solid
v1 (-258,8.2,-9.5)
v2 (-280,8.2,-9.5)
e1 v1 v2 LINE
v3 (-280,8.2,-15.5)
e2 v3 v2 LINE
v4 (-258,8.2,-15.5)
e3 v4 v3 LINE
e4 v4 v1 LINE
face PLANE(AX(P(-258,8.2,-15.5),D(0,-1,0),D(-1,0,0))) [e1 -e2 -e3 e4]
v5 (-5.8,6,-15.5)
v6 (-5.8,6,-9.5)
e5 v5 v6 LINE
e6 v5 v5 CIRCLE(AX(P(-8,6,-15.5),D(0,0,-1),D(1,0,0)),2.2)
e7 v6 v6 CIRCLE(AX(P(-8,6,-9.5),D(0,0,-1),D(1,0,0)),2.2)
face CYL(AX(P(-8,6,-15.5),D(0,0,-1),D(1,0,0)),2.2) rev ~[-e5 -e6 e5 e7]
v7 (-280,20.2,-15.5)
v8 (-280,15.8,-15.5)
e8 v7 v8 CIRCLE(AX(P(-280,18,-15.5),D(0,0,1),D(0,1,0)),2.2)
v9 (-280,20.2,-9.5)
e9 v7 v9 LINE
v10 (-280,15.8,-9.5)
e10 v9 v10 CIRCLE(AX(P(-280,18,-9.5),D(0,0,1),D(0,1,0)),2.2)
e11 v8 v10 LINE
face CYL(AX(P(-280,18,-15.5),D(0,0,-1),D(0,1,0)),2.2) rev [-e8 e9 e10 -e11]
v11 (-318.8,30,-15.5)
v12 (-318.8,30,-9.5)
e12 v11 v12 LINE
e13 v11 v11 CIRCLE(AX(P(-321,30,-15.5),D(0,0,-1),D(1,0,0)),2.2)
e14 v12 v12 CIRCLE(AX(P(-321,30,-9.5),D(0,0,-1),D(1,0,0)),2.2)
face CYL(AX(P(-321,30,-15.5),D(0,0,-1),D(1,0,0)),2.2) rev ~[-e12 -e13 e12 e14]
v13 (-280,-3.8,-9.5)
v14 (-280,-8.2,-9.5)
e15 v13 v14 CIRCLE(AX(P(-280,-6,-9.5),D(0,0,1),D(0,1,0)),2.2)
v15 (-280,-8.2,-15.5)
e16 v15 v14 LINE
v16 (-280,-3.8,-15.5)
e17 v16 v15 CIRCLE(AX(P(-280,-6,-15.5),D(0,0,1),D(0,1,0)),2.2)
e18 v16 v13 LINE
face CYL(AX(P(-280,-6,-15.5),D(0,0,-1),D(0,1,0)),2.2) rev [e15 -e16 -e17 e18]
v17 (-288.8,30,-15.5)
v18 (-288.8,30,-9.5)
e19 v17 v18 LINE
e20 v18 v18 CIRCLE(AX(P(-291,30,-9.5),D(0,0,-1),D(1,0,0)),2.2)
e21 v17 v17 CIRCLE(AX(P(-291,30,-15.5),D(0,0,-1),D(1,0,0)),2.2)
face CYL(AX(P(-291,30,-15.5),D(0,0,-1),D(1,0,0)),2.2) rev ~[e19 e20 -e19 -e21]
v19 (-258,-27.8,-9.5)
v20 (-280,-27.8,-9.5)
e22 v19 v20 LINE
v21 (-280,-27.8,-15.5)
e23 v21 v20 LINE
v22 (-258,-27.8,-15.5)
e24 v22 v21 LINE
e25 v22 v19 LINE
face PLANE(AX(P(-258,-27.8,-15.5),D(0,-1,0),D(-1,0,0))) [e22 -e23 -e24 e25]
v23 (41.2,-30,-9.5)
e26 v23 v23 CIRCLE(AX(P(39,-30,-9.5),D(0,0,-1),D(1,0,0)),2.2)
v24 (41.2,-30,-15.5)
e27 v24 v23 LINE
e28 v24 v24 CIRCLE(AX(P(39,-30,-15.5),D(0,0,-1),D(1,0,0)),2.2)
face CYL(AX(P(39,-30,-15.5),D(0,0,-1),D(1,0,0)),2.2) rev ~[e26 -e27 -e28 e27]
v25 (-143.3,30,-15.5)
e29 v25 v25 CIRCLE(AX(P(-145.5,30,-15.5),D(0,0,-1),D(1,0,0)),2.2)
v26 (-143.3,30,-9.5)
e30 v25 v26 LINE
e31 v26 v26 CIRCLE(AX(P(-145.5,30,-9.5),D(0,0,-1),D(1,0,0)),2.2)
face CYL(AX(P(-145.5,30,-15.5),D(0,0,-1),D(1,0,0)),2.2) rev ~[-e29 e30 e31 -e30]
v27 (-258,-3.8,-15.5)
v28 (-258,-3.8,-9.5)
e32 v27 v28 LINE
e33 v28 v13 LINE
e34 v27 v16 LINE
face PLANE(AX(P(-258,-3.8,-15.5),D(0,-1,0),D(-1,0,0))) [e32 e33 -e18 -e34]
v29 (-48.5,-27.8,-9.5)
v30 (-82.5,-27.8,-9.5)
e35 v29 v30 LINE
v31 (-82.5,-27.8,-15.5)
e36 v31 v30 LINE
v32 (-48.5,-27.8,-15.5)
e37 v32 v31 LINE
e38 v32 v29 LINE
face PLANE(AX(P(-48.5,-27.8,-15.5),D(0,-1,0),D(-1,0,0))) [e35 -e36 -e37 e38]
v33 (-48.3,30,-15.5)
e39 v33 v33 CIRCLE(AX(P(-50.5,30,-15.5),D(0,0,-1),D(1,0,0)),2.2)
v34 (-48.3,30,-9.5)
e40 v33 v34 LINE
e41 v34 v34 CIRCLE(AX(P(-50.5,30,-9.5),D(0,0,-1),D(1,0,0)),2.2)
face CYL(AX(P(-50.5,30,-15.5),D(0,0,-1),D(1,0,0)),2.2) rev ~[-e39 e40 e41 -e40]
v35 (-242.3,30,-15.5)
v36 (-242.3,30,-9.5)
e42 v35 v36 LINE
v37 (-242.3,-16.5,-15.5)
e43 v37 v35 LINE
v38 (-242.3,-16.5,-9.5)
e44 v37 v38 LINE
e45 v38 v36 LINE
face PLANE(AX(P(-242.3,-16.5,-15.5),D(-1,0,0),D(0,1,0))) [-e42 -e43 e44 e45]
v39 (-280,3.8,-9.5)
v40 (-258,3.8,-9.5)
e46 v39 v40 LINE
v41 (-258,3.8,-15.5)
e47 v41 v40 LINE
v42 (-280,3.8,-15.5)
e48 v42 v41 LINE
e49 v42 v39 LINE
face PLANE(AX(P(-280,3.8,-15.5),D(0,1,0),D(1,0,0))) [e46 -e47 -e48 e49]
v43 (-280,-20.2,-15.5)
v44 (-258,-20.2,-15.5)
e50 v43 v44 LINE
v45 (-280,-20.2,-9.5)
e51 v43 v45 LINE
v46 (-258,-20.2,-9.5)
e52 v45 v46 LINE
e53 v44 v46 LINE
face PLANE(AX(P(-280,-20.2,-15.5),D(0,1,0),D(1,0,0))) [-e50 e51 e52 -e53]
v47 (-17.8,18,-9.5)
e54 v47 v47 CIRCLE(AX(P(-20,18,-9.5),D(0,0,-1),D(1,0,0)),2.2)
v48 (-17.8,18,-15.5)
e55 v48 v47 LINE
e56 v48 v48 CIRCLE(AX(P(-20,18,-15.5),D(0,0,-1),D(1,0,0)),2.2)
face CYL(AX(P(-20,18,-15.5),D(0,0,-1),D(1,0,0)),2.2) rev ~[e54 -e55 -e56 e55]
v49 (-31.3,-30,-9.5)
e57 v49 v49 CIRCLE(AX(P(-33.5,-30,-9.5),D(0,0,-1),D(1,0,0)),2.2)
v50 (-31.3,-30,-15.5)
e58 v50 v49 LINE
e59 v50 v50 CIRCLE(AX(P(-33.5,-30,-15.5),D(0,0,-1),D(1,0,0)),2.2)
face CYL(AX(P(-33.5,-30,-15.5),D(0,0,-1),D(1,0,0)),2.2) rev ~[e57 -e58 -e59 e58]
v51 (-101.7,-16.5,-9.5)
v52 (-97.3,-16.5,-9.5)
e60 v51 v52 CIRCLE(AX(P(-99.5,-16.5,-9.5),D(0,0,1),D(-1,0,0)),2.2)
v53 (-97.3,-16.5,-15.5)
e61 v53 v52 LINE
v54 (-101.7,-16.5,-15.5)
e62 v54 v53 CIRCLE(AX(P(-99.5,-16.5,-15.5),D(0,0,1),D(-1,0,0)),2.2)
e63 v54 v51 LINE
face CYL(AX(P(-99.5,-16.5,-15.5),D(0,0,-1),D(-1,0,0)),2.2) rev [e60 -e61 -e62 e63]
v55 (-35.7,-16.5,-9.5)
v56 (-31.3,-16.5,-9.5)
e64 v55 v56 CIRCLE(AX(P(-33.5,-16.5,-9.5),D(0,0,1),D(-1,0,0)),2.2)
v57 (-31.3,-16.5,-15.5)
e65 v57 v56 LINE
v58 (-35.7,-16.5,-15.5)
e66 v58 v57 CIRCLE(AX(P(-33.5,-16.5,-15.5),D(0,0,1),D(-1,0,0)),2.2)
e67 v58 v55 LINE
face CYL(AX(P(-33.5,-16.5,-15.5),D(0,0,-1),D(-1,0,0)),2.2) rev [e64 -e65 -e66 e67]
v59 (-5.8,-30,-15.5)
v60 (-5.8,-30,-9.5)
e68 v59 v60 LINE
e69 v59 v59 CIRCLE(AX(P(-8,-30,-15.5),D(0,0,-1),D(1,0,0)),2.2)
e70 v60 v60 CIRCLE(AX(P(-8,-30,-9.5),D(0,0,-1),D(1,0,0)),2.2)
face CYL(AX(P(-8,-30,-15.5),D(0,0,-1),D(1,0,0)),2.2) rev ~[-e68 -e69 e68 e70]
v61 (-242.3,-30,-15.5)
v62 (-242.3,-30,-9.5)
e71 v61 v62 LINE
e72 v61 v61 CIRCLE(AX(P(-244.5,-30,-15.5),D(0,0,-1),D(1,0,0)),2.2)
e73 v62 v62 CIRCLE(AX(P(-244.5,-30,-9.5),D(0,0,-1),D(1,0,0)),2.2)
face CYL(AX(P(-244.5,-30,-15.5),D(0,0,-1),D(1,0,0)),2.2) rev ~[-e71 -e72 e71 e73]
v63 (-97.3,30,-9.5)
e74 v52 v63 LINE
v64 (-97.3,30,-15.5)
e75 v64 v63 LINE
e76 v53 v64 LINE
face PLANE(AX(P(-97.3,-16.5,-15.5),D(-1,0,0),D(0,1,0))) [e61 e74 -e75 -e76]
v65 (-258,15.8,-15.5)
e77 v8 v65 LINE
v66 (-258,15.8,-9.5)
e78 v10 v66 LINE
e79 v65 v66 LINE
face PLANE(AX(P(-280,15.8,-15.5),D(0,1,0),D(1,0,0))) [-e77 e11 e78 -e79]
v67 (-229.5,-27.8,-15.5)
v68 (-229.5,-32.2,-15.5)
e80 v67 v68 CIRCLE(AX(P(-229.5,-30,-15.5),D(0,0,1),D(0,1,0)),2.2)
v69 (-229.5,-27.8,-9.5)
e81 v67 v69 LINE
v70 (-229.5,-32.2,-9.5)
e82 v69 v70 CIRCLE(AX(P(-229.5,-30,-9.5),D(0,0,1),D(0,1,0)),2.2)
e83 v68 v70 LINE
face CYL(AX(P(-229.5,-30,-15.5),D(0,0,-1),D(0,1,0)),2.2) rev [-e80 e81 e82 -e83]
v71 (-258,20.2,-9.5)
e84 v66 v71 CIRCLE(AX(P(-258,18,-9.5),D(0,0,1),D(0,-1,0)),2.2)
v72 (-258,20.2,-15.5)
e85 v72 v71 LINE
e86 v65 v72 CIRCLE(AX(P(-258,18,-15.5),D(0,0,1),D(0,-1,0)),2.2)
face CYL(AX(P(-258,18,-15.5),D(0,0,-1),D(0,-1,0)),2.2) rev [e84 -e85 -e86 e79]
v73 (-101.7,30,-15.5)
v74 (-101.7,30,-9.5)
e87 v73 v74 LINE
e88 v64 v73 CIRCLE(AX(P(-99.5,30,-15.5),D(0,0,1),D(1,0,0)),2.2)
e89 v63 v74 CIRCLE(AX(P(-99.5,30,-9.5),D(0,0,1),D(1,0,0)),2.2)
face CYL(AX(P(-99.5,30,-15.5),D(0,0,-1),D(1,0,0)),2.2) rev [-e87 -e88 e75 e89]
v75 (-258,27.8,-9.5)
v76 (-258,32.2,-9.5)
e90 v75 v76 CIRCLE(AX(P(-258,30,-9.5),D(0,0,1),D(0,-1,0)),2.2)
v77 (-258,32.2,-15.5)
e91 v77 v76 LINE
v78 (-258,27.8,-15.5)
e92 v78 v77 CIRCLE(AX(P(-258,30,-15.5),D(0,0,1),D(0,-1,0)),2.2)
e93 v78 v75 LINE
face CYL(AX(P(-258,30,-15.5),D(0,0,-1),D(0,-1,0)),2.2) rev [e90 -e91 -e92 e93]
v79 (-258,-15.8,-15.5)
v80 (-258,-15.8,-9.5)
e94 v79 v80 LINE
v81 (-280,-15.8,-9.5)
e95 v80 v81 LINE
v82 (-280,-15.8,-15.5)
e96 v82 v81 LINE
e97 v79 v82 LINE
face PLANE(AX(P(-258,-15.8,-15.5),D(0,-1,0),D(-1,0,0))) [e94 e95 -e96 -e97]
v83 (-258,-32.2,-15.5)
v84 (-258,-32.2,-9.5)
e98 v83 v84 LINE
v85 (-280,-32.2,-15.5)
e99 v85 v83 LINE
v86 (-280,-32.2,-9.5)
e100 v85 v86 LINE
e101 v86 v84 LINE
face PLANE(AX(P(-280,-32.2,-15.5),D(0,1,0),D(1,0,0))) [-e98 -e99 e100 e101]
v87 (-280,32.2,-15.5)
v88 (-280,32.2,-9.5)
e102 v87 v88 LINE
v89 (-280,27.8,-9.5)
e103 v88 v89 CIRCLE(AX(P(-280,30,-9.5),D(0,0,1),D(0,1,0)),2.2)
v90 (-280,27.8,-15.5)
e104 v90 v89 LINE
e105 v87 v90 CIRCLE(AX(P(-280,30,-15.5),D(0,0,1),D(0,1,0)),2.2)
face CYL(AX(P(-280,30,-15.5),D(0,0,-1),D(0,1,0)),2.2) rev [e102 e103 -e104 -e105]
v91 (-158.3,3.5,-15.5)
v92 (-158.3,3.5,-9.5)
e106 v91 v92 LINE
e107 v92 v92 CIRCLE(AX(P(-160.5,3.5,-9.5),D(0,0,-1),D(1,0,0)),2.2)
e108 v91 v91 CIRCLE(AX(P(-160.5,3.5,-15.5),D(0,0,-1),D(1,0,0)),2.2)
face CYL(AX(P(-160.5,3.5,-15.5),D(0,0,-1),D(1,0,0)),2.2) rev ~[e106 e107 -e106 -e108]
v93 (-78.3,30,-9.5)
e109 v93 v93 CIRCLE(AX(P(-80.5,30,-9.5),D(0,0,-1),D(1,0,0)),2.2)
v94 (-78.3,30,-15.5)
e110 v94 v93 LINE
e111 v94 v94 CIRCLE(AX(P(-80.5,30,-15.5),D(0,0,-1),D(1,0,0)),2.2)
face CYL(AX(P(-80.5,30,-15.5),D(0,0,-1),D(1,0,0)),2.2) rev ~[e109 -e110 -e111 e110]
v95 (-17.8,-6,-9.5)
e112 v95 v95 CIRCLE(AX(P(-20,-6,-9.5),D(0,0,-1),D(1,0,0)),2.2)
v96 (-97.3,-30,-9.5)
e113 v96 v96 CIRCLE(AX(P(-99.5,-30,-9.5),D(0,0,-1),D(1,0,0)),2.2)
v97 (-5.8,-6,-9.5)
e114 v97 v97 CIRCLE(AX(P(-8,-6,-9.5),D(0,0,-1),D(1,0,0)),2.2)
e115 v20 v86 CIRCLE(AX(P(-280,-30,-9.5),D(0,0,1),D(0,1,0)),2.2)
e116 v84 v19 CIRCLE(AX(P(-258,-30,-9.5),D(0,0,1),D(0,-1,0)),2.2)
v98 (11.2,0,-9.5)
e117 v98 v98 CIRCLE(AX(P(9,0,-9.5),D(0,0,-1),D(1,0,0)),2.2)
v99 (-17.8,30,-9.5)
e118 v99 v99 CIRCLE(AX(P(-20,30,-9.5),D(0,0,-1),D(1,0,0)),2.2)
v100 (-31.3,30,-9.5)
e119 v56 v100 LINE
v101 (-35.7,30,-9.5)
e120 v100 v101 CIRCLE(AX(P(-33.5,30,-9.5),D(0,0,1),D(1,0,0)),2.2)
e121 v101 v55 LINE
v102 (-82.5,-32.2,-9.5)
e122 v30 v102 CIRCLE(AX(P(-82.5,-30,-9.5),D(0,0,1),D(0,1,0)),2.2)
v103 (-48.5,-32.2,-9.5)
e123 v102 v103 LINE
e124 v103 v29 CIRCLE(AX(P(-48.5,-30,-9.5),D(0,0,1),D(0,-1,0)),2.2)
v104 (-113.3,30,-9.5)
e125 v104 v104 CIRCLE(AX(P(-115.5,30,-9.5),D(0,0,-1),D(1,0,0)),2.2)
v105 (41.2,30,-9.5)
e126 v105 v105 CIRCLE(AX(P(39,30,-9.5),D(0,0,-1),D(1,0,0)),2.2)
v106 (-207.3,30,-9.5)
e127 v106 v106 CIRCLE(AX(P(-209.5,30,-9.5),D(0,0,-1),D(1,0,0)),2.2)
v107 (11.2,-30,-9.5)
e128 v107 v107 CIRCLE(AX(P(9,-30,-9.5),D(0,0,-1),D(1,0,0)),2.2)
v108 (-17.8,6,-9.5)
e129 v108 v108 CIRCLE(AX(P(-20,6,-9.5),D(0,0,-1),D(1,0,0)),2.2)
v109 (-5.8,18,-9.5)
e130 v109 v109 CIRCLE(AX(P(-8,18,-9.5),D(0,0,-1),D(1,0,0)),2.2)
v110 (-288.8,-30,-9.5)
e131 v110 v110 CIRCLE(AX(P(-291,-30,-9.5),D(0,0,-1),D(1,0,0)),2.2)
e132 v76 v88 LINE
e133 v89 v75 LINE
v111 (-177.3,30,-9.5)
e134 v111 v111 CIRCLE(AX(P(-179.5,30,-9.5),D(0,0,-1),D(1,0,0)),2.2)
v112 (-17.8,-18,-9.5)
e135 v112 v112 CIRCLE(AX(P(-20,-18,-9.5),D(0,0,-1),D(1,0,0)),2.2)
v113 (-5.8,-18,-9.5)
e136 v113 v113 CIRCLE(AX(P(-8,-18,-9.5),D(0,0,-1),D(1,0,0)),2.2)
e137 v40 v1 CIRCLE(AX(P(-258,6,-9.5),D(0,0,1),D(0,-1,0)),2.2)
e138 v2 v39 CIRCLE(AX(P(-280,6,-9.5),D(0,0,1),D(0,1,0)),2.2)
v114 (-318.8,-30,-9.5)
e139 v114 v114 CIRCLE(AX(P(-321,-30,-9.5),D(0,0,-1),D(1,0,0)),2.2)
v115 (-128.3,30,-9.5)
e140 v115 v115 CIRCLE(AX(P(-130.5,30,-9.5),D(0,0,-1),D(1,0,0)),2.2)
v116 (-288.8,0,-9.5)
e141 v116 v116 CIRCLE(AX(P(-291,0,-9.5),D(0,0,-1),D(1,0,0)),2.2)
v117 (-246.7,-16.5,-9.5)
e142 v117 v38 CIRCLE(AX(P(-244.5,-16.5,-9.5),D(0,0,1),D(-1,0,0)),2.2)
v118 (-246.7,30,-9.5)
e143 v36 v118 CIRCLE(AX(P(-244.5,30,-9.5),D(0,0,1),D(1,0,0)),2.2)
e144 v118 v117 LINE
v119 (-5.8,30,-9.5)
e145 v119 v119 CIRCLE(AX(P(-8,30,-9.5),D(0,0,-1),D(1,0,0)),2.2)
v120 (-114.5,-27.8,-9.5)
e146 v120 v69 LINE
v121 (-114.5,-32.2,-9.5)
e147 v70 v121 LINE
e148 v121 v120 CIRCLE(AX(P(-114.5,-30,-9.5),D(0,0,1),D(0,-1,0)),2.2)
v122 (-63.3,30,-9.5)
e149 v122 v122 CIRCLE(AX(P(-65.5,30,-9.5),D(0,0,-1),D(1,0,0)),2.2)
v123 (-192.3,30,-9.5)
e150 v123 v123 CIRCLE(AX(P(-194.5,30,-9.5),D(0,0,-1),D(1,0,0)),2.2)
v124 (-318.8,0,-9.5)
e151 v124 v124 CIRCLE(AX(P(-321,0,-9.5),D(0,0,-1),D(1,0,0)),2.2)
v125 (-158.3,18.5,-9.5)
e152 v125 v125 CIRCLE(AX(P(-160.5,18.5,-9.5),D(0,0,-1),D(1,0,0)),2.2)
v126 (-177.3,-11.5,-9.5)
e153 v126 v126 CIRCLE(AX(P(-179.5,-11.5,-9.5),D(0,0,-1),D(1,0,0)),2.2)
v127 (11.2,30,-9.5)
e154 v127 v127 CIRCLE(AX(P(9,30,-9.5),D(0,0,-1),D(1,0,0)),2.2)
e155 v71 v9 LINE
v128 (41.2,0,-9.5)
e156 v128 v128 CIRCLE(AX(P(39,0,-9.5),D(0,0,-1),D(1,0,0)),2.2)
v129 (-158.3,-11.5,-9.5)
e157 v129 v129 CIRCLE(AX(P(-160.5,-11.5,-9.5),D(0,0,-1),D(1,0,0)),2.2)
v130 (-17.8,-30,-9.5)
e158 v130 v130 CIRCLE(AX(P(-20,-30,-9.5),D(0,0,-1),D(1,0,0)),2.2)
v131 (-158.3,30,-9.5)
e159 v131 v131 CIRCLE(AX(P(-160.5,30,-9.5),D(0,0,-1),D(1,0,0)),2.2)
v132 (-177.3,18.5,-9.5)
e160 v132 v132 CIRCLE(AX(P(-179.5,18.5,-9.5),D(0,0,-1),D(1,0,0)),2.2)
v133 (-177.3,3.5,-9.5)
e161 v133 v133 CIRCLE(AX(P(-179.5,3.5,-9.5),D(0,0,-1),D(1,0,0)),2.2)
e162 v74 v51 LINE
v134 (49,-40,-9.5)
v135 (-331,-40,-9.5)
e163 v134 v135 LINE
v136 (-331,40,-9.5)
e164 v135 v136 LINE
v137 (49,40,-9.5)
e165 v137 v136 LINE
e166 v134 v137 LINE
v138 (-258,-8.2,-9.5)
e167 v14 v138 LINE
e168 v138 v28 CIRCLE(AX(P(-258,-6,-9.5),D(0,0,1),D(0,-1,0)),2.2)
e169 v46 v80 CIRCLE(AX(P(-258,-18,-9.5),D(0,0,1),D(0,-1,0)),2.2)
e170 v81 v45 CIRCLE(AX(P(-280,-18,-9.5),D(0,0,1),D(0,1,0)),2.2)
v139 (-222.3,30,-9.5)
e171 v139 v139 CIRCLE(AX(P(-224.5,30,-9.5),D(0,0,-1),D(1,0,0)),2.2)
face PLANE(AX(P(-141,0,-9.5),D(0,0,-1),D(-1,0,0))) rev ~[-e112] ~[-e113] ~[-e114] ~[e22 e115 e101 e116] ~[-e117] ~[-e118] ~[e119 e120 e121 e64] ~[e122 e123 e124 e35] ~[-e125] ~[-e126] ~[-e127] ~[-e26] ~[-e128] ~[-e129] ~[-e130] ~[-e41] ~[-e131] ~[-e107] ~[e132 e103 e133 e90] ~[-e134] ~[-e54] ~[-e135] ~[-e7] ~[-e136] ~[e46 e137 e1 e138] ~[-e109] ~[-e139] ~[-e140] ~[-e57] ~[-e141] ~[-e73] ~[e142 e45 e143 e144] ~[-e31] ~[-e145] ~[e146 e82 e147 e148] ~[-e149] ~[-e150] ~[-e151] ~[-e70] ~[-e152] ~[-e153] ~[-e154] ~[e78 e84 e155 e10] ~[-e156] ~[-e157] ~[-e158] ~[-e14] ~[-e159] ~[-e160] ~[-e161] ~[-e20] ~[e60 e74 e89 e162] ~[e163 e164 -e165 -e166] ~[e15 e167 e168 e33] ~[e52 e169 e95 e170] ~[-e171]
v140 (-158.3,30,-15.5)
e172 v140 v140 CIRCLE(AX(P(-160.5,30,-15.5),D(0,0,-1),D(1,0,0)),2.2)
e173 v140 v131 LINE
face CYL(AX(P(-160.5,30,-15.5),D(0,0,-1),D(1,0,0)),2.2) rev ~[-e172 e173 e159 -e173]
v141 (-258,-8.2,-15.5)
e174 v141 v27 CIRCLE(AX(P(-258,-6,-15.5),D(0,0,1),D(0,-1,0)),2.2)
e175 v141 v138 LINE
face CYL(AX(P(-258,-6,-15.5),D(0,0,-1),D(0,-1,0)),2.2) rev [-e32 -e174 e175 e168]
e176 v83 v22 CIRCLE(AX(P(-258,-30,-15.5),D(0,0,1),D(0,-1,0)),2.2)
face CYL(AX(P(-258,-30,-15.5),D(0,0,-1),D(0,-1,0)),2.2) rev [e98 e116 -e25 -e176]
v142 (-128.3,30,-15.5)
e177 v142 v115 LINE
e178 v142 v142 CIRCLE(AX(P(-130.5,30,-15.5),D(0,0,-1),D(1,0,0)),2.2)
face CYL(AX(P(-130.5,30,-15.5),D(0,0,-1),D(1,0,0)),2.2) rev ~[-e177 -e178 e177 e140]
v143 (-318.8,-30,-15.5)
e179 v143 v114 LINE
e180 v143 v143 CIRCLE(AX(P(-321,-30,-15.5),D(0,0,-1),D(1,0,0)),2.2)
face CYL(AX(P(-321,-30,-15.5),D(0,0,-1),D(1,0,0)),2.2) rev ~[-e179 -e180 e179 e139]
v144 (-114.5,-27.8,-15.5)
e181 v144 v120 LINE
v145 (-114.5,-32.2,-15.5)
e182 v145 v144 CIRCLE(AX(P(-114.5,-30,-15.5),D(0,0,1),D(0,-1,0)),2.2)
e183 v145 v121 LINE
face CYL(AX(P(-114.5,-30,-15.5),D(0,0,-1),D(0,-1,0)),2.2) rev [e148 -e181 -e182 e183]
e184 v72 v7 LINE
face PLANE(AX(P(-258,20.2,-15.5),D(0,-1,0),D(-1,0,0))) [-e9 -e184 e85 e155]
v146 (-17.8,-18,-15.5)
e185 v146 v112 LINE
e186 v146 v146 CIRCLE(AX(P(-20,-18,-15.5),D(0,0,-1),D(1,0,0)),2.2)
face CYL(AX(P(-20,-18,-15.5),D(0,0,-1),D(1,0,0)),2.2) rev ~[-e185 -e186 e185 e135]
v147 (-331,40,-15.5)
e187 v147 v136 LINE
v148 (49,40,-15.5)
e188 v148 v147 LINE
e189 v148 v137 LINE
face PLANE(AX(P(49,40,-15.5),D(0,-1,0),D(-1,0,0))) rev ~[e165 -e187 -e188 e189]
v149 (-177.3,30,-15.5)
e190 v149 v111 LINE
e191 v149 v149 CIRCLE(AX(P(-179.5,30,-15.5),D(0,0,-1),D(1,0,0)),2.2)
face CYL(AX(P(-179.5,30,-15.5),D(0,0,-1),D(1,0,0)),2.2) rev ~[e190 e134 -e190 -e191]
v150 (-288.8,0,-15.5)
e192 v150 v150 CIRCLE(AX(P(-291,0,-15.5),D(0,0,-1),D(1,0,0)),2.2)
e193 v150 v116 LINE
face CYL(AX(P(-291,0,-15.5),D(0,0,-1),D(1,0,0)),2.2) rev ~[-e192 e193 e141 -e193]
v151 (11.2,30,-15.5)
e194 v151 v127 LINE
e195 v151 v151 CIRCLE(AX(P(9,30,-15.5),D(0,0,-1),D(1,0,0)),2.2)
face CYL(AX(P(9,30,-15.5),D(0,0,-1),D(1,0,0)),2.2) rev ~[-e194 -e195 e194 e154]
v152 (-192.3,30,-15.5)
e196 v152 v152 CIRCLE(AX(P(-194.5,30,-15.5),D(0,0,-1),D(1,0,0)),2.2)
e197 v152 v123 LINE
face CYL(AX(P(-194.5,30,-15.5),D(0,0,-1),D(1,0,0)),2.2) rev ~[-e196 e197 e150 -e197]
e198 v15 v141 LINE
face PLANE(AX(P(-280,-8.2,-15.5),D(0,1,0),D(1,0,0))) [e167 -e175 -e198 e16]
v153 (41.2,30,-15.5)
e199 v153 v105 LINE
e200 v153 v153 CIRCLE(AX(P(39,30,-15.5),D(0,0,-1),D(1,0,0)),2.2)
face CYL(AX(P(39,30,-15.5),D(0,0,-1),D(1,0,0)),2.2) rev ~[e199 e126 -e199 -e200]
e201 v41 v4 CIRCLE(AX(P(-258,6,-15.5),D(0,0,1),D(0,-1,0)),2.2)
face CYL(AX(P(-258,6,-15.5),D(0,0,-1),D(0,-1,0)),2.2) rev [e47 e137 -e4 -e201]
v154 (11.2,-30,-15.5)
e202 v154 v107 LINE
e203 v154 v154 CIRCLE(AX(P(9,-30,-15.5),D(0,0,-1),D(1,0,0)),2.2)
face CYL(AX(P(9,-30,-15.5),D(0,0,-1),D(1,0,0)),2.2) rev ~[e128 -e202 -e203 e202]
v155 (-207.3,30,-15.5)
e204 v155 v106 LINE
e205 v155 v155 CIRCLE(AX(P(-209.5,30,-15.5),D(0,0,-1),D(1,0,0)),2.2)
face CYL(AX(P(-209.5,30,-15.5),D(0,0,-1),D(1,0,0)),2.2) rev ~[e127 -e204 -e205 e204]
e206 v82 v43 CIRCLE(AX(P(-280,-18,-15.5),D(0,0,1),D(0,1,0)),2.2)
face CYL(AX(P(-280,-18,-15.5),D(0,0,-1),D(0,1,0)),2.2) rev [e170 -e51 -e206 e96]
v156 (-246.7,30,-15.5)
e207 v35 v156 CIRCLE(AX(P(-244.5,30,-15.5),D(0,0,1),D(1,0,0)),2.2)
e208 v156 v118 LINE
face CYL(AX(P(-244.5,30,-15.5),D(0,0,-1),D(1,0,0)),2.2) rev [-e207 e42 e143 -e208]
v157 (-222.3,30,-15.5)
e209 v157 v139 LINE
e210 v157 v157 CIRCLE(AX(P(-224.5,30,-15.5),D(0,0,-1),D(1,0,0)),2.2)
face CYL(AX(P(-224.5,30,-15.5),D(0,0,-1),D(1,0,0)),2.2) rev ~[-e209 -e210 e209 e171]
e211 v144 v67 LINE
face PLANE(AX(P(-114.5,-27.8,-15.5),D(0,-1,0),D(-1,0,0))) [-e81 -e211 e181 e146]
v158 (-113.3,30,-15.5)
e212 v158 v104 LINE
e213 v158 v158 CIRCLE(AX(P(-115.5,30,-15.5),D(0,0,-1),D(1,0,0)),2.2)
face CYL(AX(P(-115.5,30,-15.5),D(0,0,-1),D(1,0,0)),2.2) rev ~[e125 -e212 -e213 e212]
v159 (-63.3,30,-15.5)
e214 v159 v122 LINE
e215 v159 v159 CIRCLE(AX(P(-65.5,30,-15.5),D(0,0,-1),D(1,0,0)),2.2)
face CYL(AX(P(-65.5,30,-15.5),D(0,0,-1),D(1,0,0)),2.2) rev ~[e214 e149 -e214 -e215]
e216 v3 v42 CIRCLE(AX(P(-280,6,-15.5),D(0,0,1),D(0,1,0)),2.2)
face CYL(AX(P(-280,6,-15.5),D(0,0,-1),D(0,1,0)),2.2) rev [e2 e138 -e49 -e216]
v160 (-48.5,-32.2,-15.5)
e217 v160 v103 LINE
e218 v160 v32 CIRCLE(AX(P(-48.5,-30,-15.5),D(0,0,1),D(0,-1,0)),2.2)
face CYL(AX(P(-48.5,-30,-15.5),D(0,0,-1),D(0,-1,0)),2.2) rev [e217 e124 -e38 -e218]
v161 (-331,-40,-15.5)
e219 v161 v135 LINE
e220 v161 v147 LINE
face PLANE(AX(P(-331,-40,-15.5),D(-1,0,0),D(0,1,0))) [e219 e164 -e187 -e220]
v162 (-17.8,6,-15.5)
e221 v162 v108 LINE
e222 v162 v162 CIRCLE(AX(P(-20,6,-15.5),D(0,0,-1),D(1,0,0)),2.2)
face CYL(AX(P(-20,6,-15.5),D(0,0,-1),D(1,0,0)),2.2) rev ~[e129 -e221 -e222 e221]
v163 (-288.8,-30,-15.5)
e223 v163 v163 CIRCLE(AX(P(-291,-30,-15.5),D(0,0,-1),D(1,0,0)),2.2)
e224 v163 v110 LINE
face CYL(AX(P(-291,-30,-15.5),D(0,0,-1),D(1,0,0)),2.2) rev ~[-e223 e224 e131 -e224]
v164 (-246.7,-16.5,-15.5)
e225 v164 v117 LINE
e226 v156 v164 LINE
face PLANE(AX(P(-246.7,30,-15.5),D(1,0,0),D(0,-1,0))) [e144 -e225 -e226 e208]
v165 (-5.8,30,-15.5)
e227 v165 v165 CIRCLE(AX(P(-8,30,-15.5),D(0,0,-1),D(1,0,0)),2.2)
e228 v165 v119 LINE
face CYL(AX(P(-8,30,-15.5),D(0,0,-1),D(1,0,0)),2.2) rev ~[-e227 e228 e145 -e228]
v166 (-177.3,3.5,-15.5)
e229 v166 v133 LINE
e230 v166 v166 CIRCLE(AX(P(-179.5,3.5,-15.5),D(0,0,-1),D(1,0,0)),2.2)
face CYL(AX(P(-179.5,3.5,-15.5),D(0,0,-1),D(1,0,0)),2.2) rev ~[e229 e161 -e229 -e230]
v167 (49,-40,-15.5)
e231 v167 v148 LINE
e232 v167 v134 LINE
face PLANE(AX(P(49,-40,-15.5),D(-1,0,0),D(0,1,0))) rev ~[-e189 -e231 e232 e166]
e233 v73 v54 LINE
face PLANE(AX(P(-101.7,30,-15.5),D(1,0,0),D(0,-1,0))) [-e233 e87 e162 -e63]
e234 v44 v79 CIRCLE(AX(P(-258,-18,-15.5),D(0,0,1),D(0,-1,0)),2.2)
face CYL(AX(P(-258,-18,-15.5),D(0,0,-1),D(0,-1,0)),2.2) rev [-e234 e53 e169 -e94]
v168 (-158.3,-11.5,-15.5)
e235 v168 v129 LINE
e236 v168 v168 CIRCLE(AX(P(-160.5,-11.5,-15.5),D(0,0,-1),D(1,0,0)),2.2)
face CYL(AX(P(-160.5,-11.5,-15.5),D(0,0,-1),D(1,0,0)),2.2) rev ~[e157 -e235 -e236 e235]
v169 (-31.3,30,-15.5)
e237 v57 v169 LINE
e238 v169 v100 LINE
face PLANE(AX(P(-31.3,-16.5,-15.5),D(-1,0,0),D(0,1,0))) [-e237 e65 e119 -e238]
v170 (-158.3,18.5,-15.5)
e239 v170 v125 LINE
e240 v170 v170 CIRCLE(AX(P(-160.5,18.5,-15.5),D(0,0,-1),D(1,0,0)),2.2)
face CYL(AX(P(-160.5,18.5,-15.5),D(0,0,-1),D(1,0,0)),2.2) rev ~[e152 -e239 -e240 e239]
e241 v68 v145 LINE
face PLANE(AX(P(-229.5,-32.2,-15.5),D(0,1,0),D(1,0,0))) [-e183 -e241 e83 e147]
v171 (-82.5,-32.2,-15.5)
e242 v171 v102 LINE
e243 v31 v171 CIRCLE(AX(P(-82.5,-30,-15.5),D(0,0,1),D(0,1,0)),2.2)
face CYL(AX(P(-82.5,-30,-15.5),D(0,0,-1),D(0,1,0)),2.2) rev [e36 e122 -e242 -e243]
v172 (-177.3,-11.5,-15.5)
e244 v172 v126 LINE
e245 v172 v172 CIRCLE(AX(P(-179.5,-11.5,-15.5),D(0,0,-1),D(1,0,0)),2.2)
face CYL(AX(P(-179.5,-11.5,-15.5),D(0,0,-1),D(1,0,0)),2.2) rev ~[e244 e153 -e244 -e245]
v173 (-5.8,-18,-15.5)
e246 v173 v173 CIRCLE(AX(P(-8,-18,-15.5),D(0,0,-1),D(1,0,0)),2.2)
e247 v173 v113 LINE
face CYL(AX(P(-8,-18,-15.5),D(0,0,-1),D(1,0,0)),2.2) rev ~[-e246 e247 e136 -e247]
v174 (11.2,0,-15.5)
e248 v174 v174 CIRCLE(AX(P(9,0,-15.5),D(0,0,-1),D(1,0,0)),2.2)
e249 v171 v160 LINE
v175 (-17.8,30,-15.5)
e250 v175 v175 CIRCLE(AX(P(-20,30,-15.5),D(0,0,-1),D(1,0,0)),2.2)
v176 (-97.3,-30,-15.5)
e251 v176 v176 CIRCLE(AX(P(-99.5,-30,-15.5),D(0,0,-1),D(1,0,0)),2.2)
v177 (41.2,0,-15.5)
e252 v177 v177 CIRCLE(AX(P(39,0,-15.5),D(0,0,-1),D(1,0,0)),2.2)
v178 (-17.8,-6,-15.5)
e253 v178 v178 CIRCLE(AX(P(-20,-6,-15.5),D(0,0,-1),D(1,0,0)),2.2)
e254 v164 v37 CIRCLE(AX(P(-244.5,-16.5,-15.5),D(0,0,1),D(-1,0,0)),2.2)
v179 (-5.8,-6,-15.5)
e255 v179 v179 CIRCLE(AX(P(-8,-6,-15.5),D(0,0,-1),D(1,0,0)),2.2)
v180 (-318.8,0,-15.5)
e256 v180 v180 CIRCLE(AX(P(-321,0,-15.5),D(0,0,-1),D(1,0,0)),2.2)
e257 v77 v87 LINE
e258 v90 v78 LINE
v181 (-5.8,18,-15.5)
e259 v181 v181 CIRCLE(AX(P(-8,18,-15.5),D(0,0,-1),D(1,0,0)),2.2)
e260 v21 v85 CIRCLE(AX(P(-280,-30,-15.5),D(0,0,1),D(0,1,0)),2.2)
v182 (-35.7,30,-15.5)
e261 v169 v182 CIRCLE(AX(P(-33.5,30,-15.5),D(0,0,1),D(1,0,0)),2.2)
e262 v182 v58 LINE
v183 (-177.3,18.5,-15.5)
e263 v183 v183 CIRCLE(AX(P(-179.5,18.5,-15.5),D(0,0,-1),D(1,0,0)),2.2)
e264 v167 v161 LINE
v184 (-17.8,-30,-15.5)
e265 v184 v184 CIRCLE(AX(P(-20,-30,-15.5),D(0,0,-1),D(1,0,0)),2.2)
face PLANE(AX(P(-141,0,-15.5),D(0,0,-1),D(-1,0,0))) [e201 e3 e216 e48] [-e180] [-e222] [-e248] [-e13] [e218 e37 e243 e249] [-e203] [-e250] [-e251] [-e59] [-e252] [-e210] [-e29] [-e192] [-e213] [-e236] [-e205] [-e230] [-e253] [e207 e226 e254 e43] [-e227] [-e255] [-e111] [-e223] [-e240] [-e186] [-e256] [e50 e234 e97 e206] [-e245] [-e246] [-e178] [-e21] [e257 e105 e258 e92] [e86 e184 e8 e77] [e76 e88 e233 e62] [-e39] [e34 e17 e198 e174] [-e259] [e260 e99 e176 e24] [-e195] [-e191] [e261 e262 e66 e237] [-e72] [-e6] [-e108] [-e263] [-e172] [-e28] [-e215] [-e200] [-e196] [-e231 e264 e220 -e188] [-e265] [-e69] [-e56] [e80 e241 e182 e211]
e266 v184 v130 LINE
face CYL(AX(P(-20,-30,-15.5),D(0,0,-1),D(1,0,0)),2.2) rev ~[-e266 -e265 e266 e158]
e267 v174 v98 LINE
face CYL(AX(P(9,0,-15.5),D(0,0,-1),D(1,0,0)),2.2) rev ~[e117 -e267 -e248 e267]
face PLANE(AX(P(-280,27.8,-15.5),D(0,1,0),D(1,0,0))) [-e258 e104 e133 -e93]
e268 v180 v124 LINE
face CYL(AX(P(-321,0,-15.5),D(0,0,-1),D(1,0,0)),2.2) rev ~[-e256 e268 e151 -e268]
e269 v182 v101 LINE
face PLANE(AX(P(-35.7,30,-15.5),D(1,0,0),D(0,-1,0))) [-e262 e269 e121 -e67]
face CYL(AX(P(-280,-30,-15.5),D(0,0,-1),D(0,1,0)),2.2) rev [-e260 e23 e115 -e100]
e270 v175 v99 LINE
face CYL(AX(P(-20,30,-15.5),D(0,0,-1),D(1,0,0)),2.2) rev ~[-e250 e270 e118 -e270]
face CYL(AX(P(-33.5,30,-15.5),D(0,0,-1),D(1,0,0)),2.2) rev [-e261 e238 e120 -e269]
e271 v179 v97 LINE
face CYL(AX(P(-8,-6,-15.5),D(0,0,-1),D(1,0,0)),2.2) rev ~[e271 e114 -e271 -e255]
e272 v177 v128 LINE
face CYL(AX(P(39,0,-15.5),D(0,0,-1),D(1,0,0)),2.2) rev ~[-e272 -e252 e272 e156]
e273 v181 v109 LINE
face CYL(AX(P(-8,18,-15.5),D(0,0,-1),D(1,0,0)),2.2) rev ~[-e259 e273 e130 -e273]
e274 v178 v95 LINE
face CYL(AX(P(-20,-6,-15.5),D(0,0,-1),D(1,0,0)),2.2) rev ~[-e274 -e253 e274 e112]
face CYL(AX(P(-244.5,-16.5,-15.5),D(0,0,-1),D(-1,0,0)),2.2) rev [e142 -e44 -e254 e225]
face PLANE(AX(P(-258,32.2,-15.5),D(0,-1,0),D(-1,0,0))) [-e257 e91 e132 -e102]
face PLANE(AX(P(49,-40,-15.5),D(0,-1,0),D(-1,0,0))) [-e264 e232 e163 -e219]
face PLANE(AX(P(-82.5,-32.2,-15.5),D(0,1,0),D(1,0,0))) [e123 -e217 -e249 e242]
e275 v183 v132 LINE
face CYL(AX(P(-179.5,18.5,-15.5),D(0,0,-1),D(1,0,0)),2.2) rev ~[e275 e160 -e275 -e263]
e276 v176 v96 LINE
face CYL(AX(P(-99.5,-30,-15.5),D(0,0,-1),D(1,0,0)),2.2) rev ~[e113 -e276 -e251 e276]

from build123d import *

# Parameters (mm, degrees)
SKETCH1_W           = 380
SKETCH1_H           = 80
SKETCH1_R           = 2.2
BOSS_EXTRUDE1_DEPTH = 6


with BuildPart() as part:
    # Sketch1 → Boss-Extrude1 (new body)
    with BuildSketch(Plane(origin=(0, 0, -15.5), x_dir=(-1, 0, 0), z_dir=(0, 0, -1))):
        with Locations((141, 0)):
            Rectangle(SKETCH1_W, SKETCH1_H)
        with Locations(Location((-9, -30, 0), (0, 0, 180))):
            Circle(SKETCH1_R, mode=Mode.SUBTRACT)
        with Locations(Location((-9, 30, 0), (0, 0, 180))):
            Circle(SKETCH1_R, mode=Mode.SUBTRACT)
        with Locations(Location((-9, 0, 0), (0, 0, 180))):
            Circle(SKETCH1_R, mode=Mode.SUBTRACT)
        with Locations(Location((-39, -30, 0), (0, 0, 180))):
            Circle(SKETCH1_R, mode=Mode.SUBTRACT)
        with Locations(Location((-39, 30, 0), (0, 0, 180))):
            Circle(SKETCH1_R, mode=Mode.SUBTRACT)
        with Locations(Location((-39, 0, 0), (0, 0, 180))):
            Circle(SKETCH1_R, mode=Mode.SUBTRACT)
        with Locations(Location((291, 30, 0), (0, 0, 180))):
            Circle(SKETCH1_R, mode=Mode.SUBTRACT)
        with Locations(Location((321, -30, 0), (0, 0, 180))):
            Circle(SKETCH1_R, mode=Mode.SUBTRACT)
        with Locations(Location((321, 0, 0), (0, 0, 180))):
            Circle(SKETCH1_R, mode=Mode.SUBTRACT)
        with Locations(Location((33.5, -30, 0), (0, 0, 180))):
            Circle(SKETCH1_R, mode=Mode.SUBTRACT)
        with Locations(Location((65.5, 30, 0), (0, 0, 180))):
            Circle(SKETCH1_R, mode=Mode.SUBTRACT)
        with Locations(Location((99.5, -30, 0), (0, 0, 180))):
            Circle(SKETCH1_R, mode=Mode.SUBTRACT)
        with Locations(Location((115.5, 30, 0), (0, 0, 180))):
            Circle(SKETCH1_R, mode=Mode.SUBTRACT)
        with Locations(Location((160.5, -11.5, 0), (0, 0, 180))):
            Circle(SKETCH1_R, mode=Mode.SUBTRACT)
        with Locations(Location((160.5, 18.5, 0), (0, 0, 180))):
            Circle(SKETCH1_R, mode=Mode.SUBTRACT)
        with Locations(Location((179.5, -11.5, 0), (0, 0, 180))):
            Circle(SKETCH1_R, mode=Mode.SUBTRACT)
        with Locations(Location((179.5, 18.5, 0), (0, 0, 180))):
            Circle(SKETCH1_R, mode=Mode.SUBTRACT)
        with Locations(Location((194.5, 30, 0), (0, 0, 180))):
            Circle(SKETCH1_R, mode=Mode.SUBTRACT)
        with Locations(Location((224.5, 30, 0), (0, 0, 180))):
            Circle(SKETCH1_R, mode=Mode.SUBTRACT)
        with Locations(Location((8, 6, 0), (0, 0, 180))):
            Circle(SKETCH1_R, mode=Mode.SUBTRACT)
        with Locations(Location((20, -30, 0), (0, 0, 180))):
            Circle(SKETCH1_R, mode=Mode.SUBTRACT)
        with Locations(Location((8, -18, 0), (0, 0, 180))):
            Circle(SKETCH1_R, mode=Mode.SUBTRACT)
        with Locations(Location((20, 18, 0), (0, 0, 180))):
            Circle(SKETCH1_R, mode=Mode.SUBTRACT)
        with Locations(Location((8, 30, 0), (0, 0, 180))):
            Circle(SKETCH1_R, mode=Mode.SUBTRACT)
        with Locations(Location((20, -6, 0), (0, 0, 180))):
            Circle(SKETCH1_R, mode=Mode.SUBTRACT)
        with Locations(Location((8, -6, 0), (0, 0, 180))):
            Circle(SKETCH1_R, mode=Mode.SUBTRACT)
        with Locations(Location((20, 6, 0), (0, 0, 180))):
            Circle(SKETCH1_R, mode=Mode.SUBTRACT)
        with Locations(Location((8, 18, 0), (0, 0, 180))):
            Circle(SKETCH1_R, mode=Mode.SUBTRACT)
        with Locations(Location((20, 30, 0), (0, 0, 180))):
            Circle(SKETCH1_R, mode=Mode.SUBTRACT)
        with Locations(Location((8, -30, 0), (0, 0, 180))):
            Circle(SKETCH1_R, mode=Mode.SUBTRACT)
        with Locations(Location((20, -18, 0), (0, 0, 180))):
            Circle(SKETCH1_R, mode=Mode.SUBTRACT)
        with Locations(Location((244.5, -30, 0), (0, 0, 180))):
            Circle(SKETCH1_R, mode=Mode.SUBTRACT)
        with Locations(Location((209.5, 30, 0), (0, 0, 180))):
            Circle(SKETCH1_R, mode=Mode.SUBTRACT)
        with Locations(Location((179.5, 30, 0), (0, 0, 180))):
            Circle(SKETCH1_R, mode=Mode.SUBTRACT)
        with Locations(Location((179.5, 3.5, 0), (0, 0, 180))):
            Circle(SKETCH1_R, mode=Mode.SUBTRACT)
        with Locations(Location((160.5, 30, 0), (0, 0, 180))):
            Circle(SKETCH1_R, mode=Mode.SUBTRACT)
        with Locations(Location((160.5, 3.5, 0), (0, 0, 180))):
            Circle(SKETCH1_R, mode=Mode.SUBTRACT)
        with Locations(Location((130.5, 30, 0), (0, 0, 180))):
            Circle(SKETCH1_R, mode=Mode.SUBTRACT)
        with Locations(Location((145.5, 30, 0), (0, 0, 180))):
            Circle(SKETCH1_R, mode=Mode.SUBTRACT)
        with Locations(Location((80.5, 30, 0), (0, 0, 180))):
            Circle(SKETCH1_R, mode=Mode.SUBTRACT)
        with Locations(Location((50.5, 30, 0), (0, 0, 180))):
            Circle(SKETCH1_R, mode=Mode.SUBTRACT)
        with Locations(Location((321, 30, 0), (0, 0, 180))):
            Circle(SKETCH1_R, mode=Mode.SUBTRACT)
        with Locations(Location((291, 0, 0), (0, 0, 180))):
            Circle(SKETCH1_R, mode=Mode.SUBTRACT)
        with Locations(Location((291, -30, 0), (0, 0, 180))):
            Circle(SKETCH1_R, mode=Mode.SUBTRACT)
        with BuildLine():
            Line((280, 15.8), (258, 15.8))
            ThreePointArc((258, 15.8), (255.8, 18), (258, 20.2))
            Line((258, 20.2), (280, 20.2))
            ThreePointArc((280, 20.2), (282.2, 18), (280, 15.8))
        make_face(mode=Mode.SUBTRACT)
        with BuildLine():
            Line((280, -8.2), (258, -8.2))
            ThreePointArc((258, -8.2), (255.8, -6), (258, -3.8))
            Line((258, -3.8), (280, -3.8))
            ThreePointArc((280, -3.8), (282.2, -6), (280, -8.2))
        make_face(mode=Mode.SUBTRACT)
        with BuildLine():
            Line((280, -32.2), (258, -32.2))
            ThreePointArc((258, -32.2), (255.8, -30), (258, -27.8))
            Line((258, -27.8), (280, -27.8))
            ThreePointArc((280, -27.8), (282.2, -30), (280, -32.2))
        make_face(mode=Mode.SUBTRACT)
        with BuildLine():
            Line((280, -20.2), (258, -20.2))
            ThreePointArc((258, -20.2), (255.8, -18), (258, -15.8))
            Line((258, -15.8), (280, -15.8))
            ThreePointArc((280, -15.8), (282.2, -18), (280, -20.2))
        make_face(mode=Mode.SUBTRACT)
        with BuildLine():
            Line((280, 3.8), (258, 3.8))
            ThreePointArc((258, 3.8), (255.8, 6), (258, 8.2))
            Line((258, 8.2), (280, 8.2))
            ThreePointArc((280, 8.2), (282.2, 6), (280, 3.8))
        make_face(mode=Mode.SUBTRACT)
        with BuildLine():
            Line((280, 27.8), (258, 27.8))
            ThreePointArc((258, 27.8), (255.8, 30), (258, 32.2))
            Line((258, 32.2), (280, 32.2))
            ThreePointArc((280, 32.2), (282.2, 30), (280, 27.8))
        make_face(mode=Mode.SUBTRACT)
        with BuildLine():
            Line((31.3, -16.5), (31.3, 30))
            ThreePointArc((31.3, 30), (33.5, 32.2), (35.7, 30))
            Line((35.7, 30), (35.7, -16.5))
            ThreePointArc((35.7, -16.5), (33.5, -18.7), (31.3, -16.5))
        make_face(mode=Mode.SUBTRACT)
        with BuildLine():
            Line((48.5, -27.8), (82.5, -27.8))
            ThreePointArc((82.5, -27.8), (84.7, -30), (82.5, -32.2))
            Line((82.5, -32.2), (48.5, -32.2))
            ThreePointArc((48.5, -32.2), (46.3, -30), (48.5, -27.8))
        make_face(mode=Mode.SUBTRACT)
        with BuildLine():
            Line((97.3, -16.5), (97.3, 30))
            ThreePointArc((97.3, 30), (99.5, 32.2), (101.7, 30))
            Line((101.7, 30), (101.7, -16.5))
            ThreePointArc((101.7, -16.5), (99.5, -18.7), (97.3, -16.5))
        make_face(mode=Mode.SUBTRACT)
        with BuildLine():
            Line((242.3, -16.5), (242.3, 30))
            ThreePointArc((242.3, 30), (244.5, 32.2), (246.7, 30))
            Line((246.7, 30), (246.7, -16.5))
            ThreePointArc((246.7, -16.5), (244.5, -18.7), (242.3, -16.5))
        make_face(mode=Mode.SUBTRACT)
        with BuildLine():
            Line((229.5, -32.2), (114.5, -32.2))
            ThreePointArc((114.5, -32.2), (112.3, -30), (114.5, -27.8))
            Line((114.5, -27.8), (229.5, -27.8))
            ThreePointArc((229.5, -27.8), (231.7, -30), (229.5, -32.2))
        make_face(mode=Mode.SUBTRACT)
    extrude(amount=-BOSS_EXTRUDE1_DEPTH)


solid = part.part
